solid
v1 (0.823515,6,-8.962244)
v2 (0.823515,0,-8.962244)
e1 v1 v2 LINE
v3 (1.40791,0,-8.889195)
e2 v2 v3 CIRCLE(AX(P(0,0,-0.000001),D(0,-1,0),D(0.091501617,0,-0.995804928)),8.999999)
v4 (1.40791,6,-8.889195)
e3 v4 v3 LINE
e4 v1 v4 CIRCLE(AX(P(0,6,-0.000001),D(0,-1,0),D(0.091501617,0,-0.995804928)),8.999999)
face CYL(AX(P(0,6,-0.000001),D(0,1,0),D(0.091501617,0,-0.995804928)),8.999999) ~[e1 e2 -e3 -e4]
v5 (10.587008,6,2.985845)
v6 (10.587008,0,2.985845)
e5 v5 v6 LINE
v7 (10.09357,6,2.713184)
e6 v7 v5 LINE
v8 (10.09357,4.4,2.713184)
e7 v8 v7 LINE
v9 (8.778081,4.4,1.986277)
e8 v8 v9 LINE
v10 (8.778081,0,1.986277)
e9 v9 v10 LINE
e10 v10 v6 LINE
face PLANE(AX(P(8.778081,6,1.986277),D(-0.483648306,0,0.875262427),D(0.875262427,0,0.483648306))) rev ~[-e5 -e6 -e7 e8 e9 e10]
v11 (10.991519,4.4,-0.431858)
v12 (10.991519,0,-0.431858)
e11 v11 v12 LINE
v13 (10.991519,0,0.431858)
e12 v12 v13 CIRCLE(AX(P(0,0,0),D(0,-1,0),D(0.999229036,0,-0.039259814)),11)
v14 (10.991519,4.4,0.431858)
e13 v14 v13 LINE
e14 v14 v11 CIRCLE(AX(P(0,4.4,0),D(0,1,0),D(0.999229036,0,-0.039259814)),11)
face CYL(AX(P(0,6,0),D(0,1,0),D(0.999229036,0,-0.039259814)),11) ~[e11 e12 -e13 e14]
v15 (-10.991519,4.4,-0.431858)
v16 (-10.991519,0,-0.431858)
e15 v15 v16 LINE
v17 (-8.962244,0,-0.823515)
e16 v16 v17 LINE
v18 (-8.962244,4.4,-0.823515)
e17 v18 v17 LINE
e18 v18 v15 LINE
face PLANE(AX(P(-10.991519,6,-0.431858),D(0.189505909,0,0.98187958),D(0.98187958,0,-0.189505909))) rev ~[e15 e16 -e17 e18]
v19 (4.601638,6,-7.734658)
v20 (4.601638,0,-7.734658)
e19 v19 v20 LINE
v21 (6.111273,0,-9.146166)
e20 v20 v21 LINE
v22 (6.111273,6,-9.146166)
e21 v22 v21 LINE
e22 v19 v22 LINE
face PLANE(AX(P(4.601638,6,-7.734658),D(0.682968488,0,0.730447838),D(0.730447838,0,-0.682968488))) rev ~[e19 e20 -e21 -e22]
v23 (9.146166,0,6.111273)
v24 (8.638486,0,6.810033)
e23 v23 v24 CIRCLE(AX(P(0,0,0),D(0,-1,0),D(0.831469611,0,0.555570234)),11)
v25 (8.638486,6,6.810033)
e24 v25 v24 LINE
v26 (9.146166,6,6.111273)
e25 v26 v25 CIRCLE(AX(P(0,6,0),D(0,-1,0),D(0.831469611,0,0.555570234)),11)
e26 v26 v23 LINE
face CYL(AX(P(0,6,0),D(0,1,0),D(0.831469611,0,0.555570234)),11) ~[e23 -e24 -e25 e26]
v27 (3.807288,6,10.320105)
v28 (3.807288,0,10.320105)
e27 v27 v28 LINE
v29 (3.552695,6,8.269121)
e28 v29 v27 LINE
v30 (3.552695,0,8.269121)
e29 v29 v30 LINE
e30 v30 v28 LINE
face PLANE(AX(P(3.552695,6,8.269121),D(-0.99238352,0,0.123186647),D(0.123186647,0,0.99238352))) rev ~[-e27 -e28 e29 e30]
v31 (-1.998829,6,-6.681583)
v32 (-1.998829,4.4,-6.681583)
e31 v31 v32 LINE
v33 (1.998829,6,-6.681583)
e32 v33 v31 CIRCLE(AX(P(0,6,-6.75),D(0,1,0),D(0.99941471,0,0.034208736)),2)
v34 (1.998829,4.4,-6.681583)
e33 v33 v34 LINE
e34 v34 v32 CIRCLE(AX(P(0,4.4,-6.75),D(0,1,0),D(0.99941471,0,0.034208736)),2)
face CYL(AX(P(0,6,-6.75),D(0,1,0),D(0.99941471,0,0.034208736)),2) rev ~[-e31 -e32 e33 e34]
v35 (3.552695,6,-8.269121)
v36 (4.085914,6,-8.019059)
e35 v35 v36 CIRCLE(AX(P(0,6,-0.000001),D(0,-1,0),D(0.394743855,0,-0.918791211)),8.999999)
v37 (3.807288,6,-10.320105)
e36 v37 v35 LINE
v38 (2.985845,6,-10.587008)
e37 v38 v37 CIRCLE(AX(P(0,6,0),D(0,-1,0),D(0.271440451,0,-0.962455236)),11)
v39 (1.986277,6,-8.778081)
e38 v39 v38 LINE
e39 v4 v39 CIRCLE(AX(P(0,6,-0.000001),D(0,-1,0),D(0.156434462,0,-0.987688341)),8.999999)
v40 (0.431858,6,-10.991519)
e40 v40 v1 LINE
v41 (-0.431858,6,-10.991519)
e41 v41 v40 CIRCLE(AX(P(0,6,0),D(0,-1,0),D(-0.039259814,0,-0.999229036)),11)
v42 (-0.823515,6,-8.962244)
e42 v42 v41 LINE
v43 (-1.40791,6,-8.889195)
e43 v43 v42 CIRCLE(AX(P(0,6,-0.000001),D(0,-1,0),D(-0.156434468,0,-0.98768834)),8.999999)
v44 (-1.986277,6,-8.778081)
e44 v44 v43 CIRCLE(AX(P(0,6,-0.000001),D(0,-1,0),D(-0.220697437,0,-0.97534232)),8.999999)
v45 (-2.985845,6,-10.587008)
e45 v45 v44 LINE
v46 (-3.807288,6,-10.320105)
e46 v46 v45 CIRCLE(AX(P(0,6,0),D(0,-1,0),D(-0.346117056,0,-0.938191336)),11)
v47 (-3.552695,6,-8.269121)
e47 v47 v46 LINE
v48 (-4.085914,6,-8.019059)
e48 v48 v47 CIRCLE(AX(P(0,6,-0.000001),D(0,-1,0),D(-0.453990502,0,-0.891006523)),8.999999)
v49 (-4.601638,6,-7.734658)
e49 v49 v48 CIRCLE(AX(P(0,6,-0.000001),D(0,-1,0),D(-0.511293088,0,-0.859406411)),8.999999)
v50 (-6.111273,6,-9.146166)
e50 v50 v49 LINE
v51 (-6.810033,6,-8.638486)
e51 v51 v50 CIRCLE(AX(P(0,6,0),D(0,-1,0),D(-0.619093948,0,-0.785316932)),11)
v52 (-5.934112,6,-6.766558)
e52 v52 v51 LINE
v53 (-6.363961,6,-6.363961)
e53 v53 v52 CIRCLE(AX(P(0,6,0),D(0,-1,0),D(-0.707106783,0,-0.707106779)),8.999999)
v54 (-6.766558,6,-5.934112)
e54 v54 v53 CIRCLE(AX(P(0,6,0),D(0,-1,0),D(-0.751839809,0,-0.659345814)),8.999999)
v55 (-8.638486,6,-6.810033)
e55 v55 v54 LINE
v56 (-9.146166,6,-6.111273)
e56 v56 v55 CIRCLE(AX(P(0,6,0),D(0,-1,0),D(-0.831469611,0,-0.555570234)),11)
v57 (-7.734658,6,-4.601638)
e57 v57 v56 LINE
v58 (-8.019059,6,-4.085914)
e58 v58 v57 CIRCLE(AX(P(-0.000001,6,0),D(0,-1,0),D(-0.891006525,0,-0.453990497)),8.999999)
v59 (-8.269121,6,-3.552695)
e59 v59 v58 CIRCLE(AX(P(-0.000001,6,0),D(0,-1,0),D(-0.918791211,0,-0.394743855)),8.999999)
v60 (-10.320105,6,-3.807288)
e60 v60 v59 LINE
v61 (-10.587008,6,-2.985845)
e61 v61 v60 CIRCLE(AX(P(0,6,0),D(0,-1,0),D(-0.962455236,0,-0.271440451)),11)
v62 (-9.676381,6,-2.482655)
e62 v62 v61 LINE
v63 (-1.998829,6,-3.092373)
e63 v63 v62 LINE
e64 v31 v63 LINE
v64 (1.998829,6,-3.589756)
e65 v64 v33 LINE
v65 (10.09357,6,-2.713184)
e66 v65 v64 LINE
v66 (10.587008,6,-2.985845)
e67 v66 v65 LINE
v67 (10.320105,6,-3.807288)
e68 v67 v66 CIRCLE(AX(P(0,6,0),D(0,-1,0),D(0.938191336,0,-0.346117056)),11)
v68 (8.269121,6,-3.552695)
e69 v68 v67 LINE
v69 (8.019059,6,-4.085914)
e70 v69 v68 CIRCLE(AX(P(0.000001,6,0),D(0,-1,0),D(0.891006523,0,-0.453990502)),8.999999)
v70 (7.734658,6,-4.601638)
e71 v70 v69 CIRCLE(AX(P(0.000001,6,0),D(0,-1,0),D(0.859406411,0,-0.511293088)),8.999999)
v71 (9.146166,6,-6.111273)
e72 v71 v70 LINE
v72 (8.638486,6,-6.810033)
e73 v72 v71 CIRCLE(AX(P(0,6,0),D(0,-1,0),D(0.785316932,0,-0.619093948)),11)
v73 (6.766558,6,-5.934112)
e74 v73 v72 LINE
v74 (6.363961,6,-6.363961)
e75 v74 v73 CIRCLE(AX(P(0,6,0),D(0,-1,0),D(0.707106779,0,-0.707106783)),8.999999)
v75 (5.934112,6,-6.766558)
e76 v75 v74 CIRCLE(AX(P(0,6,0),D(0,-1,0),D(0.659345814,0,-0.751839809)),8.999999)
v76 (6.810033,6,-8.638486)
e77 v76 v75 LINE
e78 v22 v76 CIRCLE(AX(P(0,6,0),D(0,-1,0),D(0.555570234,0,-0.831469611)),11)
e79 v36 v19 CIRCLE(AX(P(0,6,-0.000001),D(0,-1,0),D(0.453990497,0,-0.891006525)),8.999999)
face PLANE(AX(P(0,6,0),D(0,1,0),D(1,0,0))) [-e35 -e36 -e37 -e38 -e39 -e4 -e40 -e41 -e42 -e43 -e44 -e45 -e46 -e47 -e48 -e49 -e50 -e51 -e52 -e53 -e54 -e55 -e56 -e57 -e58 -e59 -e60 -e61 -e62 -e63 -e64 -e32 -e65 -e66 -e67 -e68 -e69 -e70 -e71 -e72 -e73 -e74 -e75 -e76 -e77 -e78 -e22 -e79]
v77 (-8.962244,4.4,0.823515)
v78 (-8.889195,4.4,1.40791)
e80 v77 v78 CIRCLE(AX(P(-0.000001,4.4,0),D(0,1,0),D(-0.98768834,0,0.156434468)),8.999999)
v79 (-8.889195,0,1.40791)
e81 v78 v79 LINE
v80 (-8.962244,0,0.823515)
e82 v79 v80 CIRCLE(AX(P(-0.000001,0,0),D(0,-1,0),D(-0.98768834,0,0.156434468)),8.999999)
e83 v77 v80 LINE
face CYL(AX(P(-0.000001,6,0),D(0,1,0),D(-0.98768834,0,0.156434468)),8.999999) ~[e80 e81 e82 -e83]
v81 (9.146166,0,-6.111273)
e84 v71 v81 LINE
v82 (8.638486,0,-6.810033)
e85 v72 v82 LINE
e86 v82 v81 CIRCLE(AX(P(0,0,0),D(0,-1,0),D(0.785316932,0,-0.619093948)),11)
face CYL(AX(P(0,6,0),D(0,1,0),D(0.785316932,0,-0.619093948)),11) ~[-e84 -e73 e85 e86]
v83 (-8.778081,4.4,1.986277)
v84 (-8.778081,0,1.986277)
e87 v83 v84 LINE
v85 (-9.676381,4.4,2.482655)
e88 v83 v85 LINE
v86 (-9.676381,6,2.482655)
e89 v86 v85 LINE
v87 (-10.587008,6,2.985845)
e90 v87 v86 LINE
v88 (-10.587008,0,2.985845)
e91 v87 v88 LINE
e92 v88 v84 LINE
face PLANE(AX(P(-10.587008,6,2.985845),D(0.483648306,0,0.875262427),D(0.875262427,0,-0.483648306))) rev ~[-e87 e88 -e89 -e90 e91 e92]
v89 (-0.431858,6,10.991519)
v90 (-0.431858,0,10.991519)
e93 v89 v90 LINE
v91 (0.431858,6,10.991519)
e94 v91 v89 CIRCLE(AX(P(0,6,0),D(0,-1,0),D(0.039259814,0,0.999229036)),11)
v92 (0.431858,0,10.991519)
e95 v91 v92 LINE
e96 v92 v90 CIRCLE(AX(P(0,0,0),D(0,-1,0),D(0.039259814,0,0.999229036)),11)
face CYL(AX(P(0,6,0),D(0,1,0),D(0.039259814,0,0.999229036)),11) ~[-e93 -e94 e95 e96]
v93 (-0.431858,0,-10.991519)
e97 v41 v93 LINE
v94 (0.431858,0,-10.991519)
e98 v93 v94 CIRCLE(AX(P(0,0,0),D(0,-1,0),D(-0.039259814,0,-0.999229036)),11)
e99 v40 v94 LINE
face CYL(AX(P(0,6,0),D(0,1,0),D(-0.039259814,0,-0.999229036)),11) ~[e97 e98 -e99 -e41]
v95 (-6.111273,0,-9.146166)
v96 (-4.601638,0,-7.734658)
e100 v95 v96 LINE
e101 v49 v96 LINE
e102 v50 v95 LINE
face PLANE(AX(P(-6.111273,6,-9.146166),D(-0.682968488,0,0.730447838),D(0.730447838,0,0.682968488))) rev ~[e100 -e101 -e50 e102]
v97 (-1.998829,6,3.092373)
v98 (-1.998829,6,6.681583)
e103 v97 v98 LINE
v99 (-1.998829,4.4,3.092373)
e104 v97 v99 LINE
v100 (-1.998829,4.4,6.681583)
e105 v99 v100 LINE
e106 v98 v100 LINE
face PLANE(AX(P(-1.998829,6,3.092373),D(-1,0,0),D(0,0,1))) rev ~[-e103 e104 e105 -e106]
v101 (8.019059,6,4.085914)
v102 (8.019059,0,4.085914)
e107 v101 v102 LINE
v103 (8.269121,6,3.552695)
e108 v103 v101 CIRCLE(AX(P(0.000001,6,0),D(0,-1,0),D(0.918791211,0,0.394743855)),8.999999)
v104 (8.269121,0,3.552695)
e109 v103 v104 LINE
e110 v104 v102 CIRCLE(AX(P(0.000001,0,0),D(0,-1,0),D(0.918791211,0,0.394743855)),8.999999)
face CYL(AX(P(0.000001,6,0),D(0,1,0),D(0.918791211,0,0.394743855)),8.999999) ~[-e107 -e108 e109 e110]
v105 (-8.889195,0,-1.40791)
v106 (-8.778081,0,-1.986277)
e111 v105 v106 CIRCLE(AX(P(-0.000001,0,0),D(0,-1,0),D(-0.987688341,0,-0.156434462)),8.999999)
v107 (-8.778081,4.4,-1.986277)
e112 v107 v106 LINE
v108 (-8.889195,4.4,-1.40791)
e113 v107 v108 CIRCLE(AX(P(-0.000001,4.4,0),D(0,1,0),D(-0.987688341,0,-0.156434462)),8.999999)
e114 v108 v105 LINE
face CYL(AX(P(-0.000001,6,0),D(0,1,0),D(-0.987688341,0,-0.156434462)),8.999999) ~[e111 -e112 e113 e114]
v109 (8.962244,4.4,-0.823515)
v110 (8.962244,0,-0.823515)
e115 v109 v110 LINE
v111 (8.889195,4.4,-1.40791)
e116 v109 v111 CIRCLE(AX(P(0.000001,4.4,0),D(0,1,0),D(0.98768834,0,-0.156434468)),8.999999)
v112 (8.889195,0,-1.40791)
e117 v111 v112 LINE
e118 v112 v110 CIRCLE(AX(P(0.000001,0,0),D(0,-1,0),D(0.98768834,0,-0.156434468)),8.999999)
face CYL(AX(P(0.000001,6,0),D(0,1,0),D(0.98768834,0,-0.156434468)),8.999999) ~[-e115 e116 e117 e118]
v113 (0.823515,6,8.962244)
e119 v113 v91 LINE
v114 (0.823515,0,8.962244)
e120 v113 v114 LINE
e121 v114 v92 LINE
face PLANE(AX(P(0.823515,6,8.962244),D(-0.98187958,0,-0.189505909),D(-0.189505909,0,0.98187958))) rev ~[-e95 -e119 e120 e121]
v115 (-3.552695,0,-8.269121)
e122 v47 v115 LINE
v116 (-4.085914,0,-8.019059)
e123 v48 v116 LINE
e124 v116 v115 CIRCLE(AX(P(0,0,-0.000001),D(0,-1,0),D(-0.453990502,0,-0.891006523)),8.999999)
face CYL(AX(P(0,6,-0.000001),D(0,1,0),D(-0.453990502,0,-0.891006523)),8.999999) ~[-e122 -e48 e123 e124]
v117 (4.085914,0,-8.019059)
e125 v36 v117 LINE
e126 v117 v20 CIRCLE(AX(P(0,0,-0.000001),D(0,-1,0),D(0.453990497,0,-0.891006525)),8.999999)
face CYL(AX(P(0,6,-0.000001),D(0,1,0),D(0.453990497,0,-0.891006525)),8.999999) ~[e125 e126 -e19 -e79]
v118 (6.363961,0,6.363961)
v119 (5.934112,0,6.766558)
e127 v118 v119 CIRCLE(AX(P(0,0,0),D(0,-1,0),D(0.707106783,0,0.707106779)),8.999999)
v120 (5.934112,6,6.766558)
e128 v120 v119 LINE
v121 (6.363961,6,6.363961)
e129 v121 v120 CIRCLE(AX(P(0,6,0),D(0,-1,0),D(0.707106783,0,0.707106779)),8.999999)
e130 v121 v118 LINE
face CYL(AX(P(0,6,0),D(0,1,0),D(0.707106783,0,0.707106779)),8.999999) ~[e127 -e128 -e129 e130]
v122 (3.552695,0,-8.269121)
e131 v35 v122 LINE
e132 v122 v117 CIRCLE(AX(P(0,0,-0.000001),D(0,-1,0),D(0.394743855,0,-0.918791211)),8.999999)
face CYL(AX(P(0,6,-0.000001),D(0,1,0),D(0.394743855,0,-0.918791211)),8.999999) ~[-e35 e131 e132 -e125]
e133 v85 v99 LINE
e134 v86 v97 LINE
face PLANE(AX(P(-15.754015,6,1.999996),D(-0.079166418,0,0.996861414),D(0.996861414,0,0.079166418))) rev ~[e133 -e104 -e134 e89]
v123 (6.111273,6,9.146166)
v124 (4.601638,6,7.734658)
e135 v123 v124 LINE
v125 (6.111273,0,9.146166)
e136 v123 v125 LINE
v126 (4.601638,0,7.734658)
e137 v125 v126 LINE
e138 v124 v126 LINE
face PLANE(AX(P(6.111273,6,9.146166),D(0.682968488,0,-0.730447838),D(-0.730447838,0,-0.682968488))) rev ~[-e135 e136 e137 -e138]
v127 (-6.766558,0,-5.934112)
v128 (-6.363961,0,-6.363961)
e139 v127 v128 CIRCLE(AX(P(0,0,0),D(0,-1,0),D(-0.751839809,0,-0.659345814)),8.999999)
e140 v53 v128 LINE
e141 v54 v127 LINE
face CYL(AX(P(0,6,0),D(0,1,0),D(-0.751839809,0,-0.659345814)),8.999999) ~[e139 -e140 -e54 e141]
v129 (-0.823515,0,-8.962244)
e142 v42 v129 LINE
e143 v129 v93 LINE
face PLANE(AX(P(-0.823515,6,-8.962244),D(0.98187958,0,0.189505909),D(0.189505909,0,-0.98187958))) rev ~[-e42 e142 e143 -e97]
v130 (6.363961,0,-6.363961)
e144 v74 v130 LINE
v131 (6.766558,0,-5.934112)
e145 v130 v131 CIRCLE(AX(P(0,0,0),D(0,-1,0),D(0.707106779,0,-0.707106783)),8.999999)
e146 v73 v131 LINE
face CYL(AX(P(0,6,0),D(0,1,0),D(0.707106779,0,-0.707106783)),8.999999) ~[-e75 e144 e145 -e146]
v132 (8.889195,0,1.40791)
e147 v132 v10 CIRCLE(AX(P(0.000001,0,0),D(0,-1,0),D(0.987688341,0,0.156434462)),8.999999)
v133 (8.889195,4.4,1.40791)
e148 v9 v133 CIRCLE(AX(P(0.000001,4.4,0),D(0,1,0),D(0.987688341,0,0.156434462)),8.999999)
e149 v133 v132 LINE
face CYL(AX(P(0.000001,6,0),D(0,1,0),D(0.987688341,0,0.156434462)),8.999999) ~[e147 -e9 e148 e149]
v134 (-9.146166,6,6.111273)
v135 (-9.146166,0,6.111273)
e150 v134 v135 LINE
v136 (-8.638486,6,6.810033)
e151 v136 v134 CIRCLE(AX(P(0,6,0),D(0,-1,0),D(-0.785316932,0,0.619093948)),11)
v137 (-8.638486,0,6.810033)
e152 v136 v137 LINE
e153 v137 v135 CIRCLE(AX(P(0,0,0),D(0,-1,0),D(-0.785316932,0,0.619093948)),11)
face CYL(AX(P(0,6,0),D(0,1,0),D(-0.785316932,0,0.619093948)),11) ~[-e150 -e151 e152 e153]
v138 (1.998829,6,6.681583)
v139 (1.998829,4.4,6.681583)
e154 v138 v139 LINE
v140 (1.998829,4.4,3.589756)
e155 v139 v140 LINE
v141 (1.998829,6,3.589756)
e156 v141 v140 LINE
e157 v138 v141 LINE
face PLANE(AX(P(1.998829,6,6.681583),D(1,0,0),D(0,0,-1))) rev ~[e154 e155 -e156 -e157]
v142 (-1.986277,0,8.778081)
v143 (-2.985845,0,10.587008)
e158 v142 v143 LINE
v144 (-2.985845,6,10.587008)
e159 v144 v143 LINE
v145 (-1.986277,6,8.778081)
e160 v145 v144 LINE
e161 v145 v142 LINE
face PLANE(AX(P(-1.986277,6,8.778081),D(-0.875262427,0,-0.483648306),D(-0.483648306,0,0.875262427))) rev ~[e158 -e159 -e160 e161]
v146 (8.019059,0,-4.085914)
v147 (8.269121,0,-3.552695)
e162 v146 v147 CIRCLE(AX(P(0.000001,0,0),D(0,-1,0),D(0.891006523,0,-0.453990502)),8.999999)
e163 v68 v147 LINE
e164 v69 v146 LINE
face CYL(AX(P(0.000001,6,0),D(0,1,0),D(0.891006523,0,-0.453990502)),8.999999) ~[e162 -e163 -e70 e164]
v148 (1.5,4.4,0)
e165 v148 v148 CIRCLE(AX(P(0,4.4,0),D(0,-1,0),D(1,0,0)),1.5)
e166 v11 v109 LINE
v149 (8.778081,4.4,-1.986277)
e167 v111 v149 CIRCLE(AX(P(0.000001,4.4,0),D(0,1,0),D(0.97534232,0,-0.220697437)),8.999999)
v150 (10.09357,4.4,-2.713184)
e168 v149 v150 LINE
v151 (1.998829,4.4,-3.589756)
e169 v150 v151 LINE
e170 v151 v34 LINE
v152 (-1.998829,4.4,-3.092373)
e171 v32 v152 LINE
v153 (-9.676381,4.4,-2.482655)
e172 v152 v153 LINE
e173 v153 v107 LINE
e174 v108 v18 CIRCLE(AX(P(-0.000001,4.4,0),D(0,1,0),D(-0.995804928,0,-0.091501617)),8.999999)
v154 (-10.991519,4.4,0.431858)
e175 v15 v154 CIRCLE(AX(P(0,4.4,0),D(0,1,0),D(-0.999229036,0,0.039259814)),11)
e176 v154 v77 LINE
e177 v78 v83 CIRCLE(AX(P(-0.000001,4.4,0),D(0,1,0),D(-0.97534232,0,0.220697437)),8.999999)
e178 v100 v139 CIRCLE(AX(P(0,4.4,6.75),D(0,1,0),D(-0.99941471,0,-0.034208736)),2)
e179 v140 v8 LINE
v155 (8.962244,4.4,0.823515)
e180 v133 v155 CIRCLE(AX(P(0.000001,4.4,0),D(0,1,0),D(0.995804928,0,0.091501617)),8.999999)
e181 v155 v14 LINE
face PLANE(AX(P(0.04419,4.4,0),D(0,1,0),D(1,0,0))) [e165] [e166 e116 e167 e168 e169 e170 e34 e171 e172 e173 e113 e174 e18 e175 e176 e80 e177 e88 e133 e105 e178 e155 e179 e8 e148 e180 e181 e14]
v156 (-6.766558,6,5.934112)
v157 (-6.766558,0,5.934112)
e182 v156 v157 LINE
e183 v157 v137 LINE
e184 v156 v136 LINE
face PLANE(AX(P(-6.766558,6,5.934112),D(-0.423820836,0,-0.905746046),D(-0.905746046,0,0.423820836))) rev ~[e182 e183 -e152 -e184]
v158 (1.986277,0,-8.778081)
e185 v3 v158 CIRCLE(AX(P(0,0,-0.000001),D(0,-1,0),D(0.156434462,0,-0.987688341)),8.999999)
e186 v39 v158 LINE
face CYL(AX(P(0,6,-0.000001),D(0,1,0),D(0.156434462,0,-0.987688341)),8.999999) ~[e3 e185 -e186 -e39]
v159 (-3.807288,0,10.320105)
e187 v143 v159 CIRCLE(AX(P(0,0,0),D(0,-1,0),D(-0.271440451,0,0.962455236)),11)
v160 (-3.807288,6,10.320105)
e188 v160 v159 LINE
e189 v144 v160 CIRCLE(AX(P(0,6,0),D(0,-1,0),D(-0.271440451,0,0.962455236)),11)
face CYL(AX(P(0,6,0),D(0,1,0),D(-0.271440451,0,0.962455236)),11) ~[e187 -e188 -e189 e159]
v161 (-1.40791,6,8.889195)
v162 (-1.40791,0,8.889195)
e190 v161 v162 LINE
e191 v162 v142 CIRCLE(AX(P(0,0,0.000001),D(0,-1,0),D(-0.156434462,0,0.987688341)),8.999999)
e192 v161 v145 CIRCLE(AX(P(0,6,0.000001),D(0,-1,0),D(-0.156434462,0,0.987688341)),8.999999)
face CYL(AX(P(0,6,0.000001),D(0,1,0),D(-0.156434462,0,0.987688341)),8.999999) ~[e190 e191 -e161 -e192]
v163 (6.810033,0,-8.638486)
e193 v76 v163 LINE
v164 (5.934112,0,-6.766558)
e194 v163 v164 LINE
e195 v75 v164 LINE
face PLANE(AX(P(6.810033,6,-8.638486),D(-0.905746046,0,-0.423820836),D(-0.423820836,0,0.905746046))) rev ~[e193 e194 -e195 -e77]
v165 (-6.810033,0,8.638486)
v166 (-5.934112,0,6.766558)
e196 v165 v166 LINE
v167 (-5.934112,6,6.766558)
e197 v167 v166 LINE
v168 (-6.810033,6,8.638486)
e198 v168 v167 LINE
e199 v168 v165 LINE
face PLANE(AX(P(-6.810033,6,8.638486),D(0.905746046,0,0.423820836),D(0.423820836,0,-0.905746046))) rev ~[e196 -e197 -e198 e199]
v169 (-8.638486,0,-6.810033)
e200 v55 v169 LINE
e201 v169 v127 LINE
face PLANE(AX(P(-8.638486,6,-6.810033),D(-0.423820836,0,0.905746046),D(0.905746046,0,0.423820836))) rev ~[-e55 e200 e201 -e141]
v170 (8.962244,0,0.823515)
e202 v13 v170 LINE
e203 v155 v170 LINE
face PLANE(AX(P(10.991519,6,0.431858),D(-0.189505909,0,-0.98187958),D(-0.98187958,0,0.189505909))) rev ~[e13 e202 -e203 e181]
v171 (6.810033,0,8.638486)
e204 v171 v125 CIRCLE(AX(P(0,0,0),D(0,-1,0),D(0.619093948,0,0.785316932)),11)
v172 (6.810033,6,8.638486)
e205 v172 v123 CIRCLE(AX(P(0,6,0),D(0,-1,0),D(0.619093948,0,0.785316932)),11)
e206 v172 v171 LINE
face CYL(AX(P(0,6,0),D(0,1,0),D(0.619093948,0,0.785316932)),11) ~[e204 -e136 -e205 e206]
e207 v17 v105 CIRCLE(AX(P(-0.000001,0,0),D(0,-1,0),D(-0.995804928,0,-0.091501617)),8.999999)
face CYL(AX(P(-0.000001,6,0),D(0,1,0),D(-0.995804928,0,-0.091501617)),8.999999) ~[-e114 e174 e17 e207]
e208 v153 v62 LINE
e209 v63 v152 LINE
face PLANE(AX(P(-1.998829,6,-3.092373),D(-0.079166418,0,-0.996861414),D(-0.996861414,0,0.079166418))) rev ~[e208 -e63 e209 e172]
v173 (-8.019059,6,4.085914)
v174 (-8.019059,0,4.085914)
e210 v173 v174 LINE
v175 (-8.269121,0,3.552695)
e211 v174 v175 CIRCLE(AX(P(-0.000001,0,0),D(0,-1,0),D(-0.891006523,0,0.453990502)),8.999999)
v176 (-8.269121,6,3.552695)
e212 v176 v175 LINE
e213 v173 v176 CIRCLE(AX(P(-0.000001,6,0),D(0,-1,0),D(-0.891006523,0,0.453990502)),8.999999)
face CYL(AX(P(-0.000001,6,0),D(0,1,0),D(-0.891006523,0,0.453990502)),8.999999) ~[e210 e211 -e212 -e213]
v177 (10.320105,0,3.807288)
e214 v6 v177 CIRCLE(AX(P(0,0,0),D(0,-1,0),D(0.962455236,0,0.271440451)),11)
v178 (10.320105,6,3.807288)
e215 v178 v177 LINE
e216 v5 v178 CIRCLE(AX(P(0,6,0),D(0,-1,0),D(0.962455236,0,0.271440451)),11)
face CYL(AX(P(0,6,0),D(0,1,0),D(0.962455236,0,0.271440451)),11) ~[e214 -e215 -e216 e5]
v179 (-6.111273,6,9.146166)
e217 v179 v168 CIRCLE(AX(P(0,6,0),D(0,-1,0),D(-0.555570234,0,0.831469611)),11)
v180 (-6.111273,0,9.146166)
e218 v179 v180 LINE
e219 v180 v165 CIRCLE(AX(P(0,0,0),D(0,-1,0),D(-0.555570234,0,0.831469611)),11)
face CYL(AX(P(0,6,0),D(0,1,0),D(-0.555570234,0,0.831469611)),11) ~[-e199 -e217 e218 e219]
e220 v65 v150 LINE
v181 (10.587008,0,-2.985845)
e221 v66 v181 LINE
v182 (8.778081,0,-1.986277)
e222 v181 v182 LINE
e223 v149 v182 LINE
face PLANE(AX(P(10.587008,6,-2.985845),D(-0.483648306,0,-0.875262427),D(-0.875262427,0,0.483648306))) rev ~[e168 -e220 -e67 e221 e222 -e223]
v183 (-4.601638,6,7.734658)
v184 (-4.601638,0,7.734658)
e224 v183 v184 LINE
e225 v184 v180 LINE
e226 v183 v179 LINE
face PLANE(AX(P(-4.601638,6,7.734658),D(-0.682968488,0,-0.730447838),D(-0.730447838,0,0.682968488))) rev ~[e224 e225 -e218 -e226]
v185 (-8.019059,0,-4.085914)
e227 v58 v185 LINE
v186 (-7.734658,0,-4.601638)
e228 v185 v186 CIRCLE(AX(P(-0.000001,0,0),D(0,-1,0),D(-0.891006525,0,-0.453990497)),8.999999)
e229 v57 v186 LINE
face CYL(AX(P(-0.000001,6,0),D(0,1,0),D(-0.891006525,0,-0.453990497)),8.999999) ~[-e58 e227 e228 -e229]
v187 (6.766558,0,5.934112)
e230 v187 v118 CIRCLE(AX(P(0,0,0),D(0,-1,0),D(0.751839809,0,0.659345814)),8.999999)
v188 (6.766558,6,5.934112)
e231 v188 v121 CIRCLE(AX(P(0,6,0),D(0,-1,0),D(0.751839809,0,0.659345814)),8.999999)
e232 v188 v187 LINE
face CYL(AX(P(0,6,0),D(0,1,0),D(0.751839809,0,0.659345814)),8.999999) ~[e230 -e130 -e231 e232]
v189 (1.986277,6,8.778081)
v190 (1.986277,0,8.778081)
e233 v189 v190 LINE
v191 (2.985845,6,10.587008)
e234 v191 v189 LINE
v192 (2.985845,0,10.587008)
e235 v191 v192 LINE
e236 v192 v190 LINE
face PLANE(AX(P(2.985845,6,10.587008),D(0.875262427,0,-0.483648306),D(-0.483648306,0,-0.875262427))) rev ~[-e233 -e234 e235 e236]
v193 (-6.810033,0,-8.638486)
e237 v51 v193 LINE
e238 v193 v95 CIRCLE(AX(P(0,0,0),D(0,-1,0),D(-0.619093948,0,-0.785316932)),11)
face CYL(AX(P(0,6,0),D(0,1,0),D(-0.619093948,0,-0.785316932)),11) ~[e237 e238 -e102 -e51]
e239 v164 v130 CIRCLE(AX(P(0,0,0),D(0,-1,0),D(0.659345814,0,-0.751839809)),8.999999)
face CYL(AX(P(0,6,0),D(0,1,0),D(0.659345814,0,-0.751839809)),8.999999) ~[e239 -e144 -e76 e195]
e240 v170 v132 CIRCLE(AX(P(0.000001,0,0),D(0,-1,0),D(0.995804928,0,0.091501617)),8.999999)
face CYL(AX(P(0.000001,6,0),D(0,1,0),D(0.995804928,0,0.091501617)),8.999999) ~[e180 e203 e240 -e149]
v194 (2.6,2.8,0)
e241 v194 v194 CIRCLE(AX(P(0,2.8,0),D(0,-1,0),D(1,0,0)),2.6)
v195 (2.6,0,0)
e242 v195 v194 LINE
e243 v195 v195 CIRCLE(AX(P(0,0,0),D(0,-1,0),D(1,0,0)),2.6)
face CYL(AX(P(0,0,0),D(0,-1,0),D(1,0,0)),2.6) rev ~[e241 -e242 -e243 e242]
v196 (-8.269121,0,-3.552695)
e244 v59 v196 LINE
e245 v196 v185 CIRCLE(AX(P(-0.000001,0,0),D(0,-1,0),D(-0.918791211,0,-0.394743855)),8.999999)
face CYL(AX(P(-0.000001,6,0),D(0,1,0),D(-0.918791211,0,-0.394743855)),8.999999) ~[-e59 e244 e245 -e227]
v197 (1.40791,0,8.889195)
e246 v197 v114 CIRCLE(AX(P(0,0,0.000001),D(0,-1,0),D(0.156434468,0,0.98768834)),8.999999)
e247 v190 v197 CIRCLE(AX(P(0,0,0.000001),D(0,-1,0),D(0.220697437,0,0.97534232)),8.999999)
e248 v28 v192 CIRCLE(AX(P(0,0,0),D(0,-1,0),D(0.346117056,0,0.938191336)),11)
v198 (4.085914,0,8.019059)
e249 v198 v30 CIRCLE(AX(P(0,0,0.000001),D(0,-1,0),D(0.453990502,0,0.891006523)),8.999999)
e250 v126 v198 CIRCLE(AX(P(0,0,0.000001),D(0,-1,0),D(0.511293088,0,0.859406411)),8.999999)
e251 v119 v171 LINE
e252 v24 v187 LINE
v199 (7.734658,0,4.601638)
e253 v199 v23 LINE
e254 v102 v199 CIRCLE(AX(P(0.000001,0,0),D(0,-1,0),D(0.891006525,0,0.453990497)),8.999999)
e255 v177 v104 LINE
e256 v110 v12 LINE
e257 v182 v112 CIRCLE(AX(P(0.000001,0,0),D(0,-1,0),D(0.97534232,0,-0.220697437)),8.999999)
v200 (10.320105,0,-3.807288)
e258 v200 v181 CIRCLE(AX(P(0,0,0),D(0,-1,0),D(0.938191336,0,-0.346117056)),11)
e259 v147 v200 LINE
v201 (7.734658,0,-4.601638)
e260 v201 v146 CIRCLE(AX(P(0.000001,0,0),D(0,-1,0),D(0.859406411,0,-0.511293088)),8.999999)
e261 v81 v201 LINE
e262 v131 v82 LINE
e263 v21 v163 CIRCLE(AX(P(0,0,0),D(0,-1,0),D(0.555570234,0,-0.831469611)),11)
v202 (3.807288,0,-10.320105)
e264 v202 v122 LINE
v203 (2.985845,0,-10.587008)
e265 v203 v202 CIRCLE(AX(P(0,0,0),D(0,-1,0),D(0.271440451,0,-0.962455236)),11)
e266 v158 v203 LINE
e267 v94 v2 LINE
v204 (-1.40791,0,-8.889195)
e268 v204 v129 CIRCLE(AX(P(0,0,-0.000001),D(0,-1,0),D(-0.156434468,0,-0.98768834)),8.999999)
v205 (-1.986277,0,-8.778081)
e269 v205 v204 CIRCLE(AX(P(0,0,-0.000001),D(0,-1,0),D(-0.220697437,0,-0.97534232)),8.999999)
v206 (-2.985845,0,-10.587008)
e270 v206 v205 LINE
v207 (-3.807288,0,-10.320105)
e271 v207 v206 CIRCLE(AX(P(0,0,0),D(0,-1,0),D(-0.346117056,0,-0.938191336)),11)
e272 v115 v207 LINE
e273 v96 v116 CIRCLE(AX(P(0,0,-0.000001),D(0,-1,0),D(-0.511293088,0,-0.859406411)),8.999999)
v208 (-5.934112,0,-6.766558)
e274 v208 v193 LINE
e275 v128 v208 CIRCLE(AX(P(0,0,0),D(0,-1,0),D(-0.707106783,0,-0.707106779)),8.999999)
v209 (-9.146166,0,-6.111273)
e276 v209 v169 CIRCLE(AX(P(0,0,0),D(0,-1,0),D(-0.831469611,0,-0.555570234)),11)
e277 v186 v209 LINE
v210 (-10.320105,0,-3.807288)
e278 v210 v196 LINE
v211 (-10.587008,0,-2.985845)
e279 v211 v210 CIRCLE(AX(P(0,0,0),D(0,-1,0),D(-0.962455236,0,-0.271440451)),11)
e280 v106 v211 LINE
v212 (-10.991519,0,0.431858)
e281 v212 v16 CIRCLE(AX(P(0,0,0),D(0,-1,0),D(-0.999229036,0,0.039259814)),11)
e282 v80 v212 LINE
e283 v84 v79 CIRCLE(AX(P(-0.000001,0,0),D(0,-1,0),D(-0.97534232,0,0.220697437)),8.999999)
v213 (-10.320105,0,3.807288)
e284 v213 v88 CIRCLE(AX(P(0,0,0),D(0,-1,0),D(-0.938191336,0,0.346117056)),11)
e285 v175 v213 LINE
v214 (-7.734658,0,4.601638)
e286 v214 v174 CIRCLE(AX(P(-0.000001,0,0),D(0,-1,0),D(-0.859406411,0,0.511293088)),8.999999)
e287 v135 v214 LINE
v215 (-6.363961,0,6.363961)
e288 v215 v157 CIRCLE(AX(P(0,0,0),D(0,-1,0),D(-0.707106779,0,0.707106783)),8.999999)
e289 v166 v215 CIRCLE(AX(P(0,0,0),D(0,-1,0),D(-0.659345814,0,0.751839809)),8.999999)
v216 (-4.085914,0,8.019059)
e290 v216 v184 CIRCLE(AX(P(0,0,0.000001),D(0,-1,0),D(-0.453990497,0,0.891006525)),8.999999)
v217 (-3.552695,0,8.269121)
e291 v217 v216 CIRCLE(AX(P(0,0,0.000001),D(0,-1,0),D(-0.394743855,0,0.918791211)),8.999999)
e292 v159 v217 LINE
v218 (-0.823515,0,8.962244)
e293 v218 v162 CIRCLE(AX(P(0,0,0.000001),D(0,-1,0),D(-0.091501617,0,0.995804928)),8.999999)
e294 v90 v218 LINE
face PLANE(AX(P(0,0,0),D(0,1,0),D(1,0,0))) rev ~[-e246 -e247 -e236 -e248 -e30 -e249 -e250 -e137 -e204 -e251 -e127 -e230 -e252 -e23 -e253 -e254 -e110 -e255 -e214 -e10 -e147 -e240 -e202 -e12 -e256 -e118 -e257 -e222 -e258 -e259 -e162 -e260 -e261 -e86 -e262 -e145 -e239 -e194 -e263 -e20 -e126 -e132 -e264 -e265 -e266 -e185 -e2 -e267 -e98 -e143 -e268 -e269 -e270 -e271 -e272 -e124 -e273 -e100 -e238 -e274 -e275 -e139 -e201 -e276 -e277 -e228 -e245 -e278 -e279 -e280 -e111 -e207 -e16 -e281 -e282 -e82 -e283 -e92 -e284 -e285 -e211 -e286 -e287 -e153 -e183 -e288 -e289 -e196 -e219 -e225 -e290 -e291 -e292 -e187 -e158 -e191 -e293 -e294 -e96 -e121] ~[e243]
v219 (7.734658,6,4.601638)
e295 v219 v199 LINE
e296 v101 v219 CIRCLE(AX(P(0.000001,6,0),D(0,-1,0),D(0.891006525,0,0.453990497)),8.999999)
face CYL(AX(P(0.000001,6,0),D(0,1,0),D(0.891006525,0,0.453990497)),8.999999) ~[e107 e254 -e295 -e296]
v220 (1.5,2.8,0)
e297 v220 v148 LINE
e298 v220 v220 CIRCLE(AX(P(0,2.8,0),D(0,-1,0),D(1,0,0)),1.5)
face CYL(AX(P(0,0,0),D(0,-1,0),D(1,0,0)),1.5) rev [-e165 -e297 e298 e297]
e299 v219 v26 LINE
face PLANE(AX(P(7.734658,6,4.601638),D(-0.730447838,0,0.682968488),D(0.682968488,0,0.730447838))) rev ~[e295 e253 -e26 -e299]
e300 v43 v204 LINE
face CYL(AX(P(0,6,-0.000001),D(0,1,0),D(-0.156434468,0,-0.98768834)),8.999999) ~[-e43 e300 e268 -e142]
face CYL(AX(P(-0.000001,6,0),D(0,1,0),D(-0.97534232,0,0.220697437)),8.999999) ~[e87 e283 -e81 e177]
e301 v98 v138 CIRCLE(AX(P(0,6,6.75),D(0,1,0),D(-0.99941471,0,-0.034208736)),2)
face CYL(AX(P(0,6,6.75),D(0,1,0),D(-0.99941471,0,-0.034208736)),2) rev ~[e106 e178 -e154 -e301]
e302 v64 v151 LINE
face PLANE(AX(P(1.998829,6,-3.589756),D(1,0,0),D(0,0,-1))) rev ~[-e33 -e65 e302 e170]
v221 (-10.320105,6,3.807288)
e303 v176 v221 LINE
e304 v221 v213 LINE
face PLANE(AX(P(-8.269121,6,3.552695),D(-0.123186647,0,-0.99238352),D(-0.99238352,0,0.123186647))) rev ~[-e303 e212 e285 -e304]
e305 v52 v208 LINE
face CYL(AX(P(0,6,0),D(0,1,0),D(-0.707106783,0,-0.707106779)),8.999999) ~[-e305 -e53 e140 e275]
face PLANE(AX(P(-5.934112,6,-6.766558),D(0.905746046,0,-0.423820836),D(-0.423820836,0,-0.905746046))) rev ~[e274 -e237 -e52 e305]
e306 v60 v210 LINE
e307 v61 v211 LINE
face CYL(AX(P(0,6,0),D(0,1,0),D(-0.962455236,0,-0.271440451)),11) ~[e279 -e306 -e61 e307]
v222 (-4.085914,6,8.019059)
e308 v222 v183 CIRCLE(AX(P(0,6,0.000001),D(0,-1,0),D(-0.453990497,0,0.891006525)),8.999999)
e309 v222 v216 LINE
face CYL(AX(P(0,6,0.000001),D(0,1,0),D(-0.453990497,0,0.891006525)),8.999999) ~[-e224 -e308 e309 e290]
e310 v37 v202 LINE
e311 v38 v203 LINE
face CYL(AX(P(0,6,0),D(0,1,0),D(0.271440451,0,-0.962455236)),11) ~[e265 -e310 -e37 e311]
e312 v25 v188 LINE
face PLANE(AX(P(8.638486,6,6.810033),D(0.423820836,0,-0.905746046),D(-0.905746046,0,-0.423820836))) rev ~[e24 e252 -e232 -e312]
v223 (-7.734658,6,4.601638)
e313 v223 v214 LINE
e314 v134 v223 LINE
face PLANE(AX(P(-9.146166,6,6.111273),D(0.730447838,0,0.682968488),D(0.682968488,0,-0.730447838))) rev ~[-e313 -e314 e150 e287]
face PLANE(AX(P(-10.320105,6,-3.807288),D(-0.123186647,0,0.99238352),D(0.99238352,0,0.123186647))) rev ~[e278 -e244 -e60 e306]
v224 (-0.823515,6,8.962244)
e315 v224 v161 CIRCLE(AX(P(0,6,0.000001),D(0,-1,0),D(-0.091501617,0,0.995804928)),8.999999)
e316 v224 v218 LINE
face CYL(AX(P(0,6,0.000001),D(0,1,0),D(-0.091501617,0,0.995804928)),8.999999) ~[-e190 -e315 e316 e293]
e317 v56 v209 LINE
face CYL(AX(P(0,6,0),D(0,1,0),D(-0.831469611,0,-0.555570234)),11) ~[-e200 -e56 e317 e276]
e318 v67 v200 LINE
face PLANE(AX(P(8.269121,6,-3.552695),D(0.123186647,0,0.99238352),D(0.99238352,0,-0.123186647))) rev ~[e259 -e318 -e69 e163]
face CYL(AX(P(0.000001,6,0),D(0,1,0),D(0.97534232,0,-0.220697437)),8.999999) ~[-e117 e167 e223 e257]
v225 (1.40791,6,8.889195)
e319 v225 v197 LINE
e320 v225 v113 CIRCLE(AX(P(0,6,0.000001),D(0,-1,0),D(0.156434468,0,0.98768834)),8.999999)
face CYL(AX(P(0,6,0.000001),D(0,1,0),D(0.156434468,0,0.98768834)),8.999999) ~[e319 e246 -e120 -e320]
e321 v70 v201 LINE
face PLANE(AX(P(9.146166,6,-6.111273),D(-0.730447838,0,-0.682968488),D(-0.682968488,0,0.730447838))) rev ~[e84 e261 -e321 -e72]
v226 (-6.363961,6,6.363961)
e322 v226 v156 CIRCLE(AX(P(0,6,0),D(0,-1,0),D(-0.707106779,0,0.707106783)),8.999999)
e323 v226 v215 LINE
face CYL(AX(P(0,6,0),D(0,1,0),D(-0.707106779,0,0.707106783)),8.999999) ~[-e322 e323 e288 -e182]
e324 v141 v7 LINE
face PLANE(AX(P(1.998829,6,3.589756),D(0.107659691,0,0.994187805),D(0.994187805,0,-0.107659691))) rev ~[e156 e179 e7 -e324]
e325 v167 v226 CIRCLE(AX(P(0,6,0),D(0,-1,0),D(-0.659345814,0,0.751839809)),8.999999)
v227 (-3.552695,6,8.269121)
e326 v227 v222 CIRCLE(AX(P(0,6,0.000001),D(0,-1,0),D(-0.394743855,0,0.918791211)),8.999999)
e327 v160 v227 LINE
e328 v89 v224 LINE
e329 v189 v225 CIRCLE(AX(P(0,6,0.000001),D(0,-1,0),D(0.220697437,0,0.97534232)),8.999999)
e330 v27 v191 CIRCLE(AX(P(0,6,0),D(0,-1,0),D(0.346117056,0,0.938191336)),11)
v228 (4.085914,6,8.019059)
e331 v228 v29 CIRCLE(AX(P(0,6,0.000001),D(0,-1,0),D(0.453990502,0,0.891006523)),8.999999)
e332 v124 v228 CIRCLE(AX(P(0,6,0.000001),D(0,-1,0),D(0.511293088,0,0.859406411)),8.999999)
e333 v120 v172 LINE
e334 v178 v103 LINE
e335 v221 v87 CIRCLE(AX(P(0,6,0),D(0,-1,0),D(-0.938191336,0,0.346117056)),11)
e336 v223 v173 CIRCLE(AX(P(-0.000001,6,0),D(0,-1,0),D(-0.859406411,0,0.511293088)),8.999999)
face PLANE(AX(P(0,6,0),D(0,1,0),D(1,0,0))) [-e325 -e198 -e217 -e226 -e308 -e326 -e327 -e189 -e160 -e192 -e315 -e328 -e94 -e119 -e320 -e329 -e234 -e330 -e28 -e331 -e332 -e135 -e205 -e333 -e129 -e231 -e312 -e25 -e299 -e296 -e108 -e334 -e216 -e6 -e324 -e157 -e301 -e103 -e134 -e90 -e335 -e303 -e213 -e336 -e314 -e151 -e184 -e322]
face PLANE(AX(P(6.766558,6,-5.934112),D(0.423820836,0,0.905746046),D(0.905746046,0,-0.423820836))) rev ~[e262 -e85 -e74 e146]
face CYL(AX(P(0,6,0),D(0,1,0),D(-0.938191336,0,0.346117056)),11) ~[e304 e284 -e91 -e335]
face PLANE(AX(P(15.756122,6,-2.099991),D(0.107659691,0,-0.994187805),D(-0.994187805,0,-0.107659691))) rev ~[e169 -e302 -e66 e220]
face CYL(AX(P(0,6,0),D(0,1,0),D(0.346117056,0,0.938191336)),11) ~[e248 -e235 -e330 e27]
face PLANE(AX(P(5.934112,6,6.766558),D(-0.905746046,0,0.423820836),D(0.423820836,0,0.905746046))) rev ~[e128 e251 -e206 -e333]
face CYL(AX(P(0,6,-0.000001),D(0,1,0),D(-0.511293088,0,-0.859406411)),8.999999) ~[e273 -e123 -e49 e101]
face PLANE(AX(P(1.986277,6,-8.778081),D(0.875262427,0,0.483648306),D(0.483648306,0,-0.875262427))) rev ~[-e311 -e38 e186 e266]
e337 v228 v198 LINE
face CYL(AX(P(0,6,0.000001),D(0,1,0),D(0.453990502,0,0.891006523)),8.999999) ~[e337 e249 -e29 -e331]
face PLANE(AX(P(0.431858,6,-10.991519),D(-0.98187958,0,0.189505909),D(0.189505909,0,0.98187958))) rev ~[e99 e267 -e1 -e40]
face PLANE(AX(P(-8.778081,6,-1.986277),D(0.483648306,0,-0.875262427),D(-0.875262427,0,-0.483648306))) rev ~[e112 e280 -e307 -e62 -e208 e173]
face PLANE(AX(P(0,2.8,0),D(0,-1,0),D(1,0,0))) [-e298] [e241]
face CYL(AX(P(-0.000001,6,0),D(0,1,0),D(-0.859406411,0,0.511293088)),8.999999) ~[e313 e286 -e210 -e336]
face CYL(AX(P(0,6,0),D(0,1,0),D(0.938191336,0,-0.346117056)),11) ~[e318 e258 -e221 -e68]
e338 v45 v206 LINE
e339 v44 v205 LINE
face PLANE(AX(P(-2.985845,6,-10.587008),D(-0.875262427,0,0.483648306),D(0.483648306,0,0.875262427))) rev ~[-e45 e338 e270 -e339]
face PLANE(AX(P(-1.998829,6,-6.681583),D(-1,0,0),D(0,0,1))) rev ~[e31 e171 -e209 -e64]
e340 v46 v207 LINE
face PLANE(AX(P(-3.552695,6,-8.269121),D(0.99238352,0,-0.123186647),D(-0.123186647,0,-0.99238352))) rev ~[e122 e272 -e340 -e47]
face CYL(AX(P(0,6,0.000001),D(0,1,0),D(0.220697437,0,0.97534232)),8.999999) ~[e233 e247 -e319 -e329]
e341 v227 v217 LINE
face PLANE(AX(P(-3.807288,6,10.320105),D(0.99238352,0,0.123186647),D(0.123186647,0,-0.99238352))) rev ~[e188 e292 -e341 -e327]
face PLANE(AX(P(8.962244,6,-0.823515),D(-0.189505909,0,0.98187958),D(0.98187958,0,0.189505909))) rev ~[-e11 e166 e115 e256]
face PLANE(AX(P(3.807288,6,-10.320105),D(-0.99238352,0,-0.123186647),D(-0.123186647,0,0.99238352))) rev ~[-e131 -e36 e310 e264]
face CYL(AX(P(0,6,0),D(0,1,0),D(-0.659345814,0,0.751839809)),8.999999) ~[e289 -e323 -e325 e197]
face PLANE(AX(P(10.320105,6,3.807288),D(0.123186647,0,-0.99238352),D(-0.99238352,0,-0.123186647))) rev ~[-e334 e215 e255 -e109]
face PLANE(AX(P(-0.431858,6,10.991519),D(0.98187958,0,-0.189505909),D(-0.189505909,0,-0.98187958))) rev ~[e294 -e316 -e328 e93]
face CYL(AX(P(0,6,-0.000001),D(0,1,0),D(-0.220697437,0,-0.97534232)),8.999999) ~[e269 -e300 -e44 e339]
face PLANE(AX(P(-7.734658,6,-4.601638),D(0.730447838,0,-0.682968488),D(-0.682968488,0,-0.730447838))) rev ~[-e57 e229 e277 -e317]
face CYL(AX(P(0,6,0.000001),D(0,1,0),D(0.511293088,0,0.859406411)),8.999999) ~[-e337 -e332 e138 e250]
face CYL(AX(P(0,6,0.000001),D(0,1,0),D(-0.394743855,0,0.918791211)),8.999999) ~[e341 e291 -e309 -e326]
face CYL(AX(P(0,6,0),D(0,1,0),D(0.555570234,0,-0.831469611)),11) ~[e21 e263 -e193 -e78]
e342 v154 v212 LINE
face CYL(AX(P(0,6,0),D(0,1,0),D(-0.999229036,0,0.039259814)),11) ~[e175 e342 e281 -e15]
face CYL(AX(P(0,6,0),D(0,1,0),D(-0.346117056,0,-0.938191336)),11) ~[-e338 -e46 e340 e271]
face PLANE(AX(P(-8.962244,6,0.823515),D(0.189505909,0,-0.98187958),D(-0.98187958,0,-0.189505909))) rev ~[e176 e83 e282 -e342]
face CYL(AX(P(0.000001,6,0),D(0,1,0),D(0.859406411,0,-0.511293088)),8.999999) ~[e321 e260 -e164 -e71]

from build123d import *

# Parameters (mm, degrees)
SKETCH1_R           = 11
SKETCH1_R_2         = 1.5
BOSS_EXTRUDE1_DEPTH = 6
CUT_EXTRUDE1_DEPTH  = 6
CIRPATTERN1_COUNT   = 20
SKETCH3_R           = 1.25
CUT_EXTRUDE2_DEPTH  = 1.6
SKETCH4_R           = 2.6
CUT_EXTRUDE3_DEPTH  = 2.8


with BuildPart() as part:
    # Sketch1 → Boss-Extrude1 (new body)
    with BuildSketch(Plane(origin=(0, 0, 0), x_dir=(1, 0, 0), z_dir=(0, 1, 0))):
        Circle(SKETCH1_R)
        Circle(SKETCH1_R_2, mode=Mode.SUBTRACT)
    extrude(amount=BOSS_EXTRUDE1_DEPTH)

    # Sketch2 → Cut-Extrude1 (cut)
    with BuildSketch(Plane(origin=(0, 6, 0), x_dir=(1, 0, 0), z_dir=(0, 1, 0))):
        with BuildLine():
            Line((-0.823514568, 8.962244348), (-0.431857973, 10.991519399))
            ThreePointArc((-0.431857973, 10.991519399), (0, 11), (0.431857973, 10.991519399))
            Line((0.431857973, 10.991519399), (0.823514568, 8.962244348))
            ThreePointArc((0.823514568, 8.962244348), (1.116310063, 8.930501209), (1.407910185, 8.889195065))
            Line((1.407910185, 8.889195065), (2.683697474, 16.944198993))
            Line((2.683697474, 16.944198993), (-2.683697474, 16.944198993))
            Line((-2.683697474, 16.944198993), (-1.407910185, 8.889195065))
            ThreePointArc((-1.407910185, 8.889195065), (-1.116310063, 8.930501209), (-0.823514568, 8.962244348))
        make_face()
    cut_extrude1 = extrude(amount=-CUT_EXTRUDE1_DEPTH, mode=Mode.SUBTRACT)

    # CirPattern1: Cut-Extrude1 ×20 about axis
    cirpattern1_axis = Axis((0, 0, 0), (0, 1, 0))
    for i in range(1, CIRPATTERN1_COUNT):
        add(cut_extrude1.rotate(cirpattern1_axis, i * 360 / CIRPATTERN1_COUNT), mode=Mode.SUBTRACT)

    # Sketch3 → Cut-Extrude2 (cut)
    with BuildSketch(Plane(origin=(0, 6, 0), x_dir=(1, 0, 0), z_dir=(0, 1, 0))):
        with BuildLine():
            Line((-1.99882942, 6.681582528), (-1.99882942, 3.092373279))
            Line((-1.99882942, 3.092373279), (-15.754015296, 1.999995968))
            ThreePointArc((-15.754015296, 1.999995968), (-17.749999999, 0), (-15.754015296, -1.999995968))
            Line((-15.754015296, -1.999995968), (-1.99882942, -3.092373279))
            Line((-1.99882942, -3.092373279), (-1.99882942, -6.681582528))
            ThreePointArc((-1.99882942, -6.681582528), (0, -8.75), (1.99882942, -6.681582528))
            Line((1.99882942, -6.681582528), (1.99882942, -3.589755709))
            Line((1.99882942, -3.589755709), (15.756121614, -2.099991078))
            ThreePointArc((15.756121614, -2.099991078), (17.85, 0), (15.756121614, 2.099991078))
            Line((15.756121614, 2.099991078), (1.99882942, 3.589755709))
            Line((1.99882942, 3.589755709), (1.99882942, 6.681582528))
            ThreePointArc((1.99882942, 6.681582528), (0, 8.75), (-1.99882942, 6.681582528))
        make_face()
        Circle(SKETCH3_R, mode=Mode.SUBTRACT)
    extrude(amount=-CUT_EXTRUDE2_DEPTH, mode=Mode.SUBTRACT)

    # Sketch4 → Cut-Extrude3 (cut)
    with BuildSketch(Plane.XZ):
        Circle(SKETCH4_R)
    extrude(amount=-CUT_EXTRUDE3_DEPTH, mode=Mode.SUBTRACT)


solid = part.part
